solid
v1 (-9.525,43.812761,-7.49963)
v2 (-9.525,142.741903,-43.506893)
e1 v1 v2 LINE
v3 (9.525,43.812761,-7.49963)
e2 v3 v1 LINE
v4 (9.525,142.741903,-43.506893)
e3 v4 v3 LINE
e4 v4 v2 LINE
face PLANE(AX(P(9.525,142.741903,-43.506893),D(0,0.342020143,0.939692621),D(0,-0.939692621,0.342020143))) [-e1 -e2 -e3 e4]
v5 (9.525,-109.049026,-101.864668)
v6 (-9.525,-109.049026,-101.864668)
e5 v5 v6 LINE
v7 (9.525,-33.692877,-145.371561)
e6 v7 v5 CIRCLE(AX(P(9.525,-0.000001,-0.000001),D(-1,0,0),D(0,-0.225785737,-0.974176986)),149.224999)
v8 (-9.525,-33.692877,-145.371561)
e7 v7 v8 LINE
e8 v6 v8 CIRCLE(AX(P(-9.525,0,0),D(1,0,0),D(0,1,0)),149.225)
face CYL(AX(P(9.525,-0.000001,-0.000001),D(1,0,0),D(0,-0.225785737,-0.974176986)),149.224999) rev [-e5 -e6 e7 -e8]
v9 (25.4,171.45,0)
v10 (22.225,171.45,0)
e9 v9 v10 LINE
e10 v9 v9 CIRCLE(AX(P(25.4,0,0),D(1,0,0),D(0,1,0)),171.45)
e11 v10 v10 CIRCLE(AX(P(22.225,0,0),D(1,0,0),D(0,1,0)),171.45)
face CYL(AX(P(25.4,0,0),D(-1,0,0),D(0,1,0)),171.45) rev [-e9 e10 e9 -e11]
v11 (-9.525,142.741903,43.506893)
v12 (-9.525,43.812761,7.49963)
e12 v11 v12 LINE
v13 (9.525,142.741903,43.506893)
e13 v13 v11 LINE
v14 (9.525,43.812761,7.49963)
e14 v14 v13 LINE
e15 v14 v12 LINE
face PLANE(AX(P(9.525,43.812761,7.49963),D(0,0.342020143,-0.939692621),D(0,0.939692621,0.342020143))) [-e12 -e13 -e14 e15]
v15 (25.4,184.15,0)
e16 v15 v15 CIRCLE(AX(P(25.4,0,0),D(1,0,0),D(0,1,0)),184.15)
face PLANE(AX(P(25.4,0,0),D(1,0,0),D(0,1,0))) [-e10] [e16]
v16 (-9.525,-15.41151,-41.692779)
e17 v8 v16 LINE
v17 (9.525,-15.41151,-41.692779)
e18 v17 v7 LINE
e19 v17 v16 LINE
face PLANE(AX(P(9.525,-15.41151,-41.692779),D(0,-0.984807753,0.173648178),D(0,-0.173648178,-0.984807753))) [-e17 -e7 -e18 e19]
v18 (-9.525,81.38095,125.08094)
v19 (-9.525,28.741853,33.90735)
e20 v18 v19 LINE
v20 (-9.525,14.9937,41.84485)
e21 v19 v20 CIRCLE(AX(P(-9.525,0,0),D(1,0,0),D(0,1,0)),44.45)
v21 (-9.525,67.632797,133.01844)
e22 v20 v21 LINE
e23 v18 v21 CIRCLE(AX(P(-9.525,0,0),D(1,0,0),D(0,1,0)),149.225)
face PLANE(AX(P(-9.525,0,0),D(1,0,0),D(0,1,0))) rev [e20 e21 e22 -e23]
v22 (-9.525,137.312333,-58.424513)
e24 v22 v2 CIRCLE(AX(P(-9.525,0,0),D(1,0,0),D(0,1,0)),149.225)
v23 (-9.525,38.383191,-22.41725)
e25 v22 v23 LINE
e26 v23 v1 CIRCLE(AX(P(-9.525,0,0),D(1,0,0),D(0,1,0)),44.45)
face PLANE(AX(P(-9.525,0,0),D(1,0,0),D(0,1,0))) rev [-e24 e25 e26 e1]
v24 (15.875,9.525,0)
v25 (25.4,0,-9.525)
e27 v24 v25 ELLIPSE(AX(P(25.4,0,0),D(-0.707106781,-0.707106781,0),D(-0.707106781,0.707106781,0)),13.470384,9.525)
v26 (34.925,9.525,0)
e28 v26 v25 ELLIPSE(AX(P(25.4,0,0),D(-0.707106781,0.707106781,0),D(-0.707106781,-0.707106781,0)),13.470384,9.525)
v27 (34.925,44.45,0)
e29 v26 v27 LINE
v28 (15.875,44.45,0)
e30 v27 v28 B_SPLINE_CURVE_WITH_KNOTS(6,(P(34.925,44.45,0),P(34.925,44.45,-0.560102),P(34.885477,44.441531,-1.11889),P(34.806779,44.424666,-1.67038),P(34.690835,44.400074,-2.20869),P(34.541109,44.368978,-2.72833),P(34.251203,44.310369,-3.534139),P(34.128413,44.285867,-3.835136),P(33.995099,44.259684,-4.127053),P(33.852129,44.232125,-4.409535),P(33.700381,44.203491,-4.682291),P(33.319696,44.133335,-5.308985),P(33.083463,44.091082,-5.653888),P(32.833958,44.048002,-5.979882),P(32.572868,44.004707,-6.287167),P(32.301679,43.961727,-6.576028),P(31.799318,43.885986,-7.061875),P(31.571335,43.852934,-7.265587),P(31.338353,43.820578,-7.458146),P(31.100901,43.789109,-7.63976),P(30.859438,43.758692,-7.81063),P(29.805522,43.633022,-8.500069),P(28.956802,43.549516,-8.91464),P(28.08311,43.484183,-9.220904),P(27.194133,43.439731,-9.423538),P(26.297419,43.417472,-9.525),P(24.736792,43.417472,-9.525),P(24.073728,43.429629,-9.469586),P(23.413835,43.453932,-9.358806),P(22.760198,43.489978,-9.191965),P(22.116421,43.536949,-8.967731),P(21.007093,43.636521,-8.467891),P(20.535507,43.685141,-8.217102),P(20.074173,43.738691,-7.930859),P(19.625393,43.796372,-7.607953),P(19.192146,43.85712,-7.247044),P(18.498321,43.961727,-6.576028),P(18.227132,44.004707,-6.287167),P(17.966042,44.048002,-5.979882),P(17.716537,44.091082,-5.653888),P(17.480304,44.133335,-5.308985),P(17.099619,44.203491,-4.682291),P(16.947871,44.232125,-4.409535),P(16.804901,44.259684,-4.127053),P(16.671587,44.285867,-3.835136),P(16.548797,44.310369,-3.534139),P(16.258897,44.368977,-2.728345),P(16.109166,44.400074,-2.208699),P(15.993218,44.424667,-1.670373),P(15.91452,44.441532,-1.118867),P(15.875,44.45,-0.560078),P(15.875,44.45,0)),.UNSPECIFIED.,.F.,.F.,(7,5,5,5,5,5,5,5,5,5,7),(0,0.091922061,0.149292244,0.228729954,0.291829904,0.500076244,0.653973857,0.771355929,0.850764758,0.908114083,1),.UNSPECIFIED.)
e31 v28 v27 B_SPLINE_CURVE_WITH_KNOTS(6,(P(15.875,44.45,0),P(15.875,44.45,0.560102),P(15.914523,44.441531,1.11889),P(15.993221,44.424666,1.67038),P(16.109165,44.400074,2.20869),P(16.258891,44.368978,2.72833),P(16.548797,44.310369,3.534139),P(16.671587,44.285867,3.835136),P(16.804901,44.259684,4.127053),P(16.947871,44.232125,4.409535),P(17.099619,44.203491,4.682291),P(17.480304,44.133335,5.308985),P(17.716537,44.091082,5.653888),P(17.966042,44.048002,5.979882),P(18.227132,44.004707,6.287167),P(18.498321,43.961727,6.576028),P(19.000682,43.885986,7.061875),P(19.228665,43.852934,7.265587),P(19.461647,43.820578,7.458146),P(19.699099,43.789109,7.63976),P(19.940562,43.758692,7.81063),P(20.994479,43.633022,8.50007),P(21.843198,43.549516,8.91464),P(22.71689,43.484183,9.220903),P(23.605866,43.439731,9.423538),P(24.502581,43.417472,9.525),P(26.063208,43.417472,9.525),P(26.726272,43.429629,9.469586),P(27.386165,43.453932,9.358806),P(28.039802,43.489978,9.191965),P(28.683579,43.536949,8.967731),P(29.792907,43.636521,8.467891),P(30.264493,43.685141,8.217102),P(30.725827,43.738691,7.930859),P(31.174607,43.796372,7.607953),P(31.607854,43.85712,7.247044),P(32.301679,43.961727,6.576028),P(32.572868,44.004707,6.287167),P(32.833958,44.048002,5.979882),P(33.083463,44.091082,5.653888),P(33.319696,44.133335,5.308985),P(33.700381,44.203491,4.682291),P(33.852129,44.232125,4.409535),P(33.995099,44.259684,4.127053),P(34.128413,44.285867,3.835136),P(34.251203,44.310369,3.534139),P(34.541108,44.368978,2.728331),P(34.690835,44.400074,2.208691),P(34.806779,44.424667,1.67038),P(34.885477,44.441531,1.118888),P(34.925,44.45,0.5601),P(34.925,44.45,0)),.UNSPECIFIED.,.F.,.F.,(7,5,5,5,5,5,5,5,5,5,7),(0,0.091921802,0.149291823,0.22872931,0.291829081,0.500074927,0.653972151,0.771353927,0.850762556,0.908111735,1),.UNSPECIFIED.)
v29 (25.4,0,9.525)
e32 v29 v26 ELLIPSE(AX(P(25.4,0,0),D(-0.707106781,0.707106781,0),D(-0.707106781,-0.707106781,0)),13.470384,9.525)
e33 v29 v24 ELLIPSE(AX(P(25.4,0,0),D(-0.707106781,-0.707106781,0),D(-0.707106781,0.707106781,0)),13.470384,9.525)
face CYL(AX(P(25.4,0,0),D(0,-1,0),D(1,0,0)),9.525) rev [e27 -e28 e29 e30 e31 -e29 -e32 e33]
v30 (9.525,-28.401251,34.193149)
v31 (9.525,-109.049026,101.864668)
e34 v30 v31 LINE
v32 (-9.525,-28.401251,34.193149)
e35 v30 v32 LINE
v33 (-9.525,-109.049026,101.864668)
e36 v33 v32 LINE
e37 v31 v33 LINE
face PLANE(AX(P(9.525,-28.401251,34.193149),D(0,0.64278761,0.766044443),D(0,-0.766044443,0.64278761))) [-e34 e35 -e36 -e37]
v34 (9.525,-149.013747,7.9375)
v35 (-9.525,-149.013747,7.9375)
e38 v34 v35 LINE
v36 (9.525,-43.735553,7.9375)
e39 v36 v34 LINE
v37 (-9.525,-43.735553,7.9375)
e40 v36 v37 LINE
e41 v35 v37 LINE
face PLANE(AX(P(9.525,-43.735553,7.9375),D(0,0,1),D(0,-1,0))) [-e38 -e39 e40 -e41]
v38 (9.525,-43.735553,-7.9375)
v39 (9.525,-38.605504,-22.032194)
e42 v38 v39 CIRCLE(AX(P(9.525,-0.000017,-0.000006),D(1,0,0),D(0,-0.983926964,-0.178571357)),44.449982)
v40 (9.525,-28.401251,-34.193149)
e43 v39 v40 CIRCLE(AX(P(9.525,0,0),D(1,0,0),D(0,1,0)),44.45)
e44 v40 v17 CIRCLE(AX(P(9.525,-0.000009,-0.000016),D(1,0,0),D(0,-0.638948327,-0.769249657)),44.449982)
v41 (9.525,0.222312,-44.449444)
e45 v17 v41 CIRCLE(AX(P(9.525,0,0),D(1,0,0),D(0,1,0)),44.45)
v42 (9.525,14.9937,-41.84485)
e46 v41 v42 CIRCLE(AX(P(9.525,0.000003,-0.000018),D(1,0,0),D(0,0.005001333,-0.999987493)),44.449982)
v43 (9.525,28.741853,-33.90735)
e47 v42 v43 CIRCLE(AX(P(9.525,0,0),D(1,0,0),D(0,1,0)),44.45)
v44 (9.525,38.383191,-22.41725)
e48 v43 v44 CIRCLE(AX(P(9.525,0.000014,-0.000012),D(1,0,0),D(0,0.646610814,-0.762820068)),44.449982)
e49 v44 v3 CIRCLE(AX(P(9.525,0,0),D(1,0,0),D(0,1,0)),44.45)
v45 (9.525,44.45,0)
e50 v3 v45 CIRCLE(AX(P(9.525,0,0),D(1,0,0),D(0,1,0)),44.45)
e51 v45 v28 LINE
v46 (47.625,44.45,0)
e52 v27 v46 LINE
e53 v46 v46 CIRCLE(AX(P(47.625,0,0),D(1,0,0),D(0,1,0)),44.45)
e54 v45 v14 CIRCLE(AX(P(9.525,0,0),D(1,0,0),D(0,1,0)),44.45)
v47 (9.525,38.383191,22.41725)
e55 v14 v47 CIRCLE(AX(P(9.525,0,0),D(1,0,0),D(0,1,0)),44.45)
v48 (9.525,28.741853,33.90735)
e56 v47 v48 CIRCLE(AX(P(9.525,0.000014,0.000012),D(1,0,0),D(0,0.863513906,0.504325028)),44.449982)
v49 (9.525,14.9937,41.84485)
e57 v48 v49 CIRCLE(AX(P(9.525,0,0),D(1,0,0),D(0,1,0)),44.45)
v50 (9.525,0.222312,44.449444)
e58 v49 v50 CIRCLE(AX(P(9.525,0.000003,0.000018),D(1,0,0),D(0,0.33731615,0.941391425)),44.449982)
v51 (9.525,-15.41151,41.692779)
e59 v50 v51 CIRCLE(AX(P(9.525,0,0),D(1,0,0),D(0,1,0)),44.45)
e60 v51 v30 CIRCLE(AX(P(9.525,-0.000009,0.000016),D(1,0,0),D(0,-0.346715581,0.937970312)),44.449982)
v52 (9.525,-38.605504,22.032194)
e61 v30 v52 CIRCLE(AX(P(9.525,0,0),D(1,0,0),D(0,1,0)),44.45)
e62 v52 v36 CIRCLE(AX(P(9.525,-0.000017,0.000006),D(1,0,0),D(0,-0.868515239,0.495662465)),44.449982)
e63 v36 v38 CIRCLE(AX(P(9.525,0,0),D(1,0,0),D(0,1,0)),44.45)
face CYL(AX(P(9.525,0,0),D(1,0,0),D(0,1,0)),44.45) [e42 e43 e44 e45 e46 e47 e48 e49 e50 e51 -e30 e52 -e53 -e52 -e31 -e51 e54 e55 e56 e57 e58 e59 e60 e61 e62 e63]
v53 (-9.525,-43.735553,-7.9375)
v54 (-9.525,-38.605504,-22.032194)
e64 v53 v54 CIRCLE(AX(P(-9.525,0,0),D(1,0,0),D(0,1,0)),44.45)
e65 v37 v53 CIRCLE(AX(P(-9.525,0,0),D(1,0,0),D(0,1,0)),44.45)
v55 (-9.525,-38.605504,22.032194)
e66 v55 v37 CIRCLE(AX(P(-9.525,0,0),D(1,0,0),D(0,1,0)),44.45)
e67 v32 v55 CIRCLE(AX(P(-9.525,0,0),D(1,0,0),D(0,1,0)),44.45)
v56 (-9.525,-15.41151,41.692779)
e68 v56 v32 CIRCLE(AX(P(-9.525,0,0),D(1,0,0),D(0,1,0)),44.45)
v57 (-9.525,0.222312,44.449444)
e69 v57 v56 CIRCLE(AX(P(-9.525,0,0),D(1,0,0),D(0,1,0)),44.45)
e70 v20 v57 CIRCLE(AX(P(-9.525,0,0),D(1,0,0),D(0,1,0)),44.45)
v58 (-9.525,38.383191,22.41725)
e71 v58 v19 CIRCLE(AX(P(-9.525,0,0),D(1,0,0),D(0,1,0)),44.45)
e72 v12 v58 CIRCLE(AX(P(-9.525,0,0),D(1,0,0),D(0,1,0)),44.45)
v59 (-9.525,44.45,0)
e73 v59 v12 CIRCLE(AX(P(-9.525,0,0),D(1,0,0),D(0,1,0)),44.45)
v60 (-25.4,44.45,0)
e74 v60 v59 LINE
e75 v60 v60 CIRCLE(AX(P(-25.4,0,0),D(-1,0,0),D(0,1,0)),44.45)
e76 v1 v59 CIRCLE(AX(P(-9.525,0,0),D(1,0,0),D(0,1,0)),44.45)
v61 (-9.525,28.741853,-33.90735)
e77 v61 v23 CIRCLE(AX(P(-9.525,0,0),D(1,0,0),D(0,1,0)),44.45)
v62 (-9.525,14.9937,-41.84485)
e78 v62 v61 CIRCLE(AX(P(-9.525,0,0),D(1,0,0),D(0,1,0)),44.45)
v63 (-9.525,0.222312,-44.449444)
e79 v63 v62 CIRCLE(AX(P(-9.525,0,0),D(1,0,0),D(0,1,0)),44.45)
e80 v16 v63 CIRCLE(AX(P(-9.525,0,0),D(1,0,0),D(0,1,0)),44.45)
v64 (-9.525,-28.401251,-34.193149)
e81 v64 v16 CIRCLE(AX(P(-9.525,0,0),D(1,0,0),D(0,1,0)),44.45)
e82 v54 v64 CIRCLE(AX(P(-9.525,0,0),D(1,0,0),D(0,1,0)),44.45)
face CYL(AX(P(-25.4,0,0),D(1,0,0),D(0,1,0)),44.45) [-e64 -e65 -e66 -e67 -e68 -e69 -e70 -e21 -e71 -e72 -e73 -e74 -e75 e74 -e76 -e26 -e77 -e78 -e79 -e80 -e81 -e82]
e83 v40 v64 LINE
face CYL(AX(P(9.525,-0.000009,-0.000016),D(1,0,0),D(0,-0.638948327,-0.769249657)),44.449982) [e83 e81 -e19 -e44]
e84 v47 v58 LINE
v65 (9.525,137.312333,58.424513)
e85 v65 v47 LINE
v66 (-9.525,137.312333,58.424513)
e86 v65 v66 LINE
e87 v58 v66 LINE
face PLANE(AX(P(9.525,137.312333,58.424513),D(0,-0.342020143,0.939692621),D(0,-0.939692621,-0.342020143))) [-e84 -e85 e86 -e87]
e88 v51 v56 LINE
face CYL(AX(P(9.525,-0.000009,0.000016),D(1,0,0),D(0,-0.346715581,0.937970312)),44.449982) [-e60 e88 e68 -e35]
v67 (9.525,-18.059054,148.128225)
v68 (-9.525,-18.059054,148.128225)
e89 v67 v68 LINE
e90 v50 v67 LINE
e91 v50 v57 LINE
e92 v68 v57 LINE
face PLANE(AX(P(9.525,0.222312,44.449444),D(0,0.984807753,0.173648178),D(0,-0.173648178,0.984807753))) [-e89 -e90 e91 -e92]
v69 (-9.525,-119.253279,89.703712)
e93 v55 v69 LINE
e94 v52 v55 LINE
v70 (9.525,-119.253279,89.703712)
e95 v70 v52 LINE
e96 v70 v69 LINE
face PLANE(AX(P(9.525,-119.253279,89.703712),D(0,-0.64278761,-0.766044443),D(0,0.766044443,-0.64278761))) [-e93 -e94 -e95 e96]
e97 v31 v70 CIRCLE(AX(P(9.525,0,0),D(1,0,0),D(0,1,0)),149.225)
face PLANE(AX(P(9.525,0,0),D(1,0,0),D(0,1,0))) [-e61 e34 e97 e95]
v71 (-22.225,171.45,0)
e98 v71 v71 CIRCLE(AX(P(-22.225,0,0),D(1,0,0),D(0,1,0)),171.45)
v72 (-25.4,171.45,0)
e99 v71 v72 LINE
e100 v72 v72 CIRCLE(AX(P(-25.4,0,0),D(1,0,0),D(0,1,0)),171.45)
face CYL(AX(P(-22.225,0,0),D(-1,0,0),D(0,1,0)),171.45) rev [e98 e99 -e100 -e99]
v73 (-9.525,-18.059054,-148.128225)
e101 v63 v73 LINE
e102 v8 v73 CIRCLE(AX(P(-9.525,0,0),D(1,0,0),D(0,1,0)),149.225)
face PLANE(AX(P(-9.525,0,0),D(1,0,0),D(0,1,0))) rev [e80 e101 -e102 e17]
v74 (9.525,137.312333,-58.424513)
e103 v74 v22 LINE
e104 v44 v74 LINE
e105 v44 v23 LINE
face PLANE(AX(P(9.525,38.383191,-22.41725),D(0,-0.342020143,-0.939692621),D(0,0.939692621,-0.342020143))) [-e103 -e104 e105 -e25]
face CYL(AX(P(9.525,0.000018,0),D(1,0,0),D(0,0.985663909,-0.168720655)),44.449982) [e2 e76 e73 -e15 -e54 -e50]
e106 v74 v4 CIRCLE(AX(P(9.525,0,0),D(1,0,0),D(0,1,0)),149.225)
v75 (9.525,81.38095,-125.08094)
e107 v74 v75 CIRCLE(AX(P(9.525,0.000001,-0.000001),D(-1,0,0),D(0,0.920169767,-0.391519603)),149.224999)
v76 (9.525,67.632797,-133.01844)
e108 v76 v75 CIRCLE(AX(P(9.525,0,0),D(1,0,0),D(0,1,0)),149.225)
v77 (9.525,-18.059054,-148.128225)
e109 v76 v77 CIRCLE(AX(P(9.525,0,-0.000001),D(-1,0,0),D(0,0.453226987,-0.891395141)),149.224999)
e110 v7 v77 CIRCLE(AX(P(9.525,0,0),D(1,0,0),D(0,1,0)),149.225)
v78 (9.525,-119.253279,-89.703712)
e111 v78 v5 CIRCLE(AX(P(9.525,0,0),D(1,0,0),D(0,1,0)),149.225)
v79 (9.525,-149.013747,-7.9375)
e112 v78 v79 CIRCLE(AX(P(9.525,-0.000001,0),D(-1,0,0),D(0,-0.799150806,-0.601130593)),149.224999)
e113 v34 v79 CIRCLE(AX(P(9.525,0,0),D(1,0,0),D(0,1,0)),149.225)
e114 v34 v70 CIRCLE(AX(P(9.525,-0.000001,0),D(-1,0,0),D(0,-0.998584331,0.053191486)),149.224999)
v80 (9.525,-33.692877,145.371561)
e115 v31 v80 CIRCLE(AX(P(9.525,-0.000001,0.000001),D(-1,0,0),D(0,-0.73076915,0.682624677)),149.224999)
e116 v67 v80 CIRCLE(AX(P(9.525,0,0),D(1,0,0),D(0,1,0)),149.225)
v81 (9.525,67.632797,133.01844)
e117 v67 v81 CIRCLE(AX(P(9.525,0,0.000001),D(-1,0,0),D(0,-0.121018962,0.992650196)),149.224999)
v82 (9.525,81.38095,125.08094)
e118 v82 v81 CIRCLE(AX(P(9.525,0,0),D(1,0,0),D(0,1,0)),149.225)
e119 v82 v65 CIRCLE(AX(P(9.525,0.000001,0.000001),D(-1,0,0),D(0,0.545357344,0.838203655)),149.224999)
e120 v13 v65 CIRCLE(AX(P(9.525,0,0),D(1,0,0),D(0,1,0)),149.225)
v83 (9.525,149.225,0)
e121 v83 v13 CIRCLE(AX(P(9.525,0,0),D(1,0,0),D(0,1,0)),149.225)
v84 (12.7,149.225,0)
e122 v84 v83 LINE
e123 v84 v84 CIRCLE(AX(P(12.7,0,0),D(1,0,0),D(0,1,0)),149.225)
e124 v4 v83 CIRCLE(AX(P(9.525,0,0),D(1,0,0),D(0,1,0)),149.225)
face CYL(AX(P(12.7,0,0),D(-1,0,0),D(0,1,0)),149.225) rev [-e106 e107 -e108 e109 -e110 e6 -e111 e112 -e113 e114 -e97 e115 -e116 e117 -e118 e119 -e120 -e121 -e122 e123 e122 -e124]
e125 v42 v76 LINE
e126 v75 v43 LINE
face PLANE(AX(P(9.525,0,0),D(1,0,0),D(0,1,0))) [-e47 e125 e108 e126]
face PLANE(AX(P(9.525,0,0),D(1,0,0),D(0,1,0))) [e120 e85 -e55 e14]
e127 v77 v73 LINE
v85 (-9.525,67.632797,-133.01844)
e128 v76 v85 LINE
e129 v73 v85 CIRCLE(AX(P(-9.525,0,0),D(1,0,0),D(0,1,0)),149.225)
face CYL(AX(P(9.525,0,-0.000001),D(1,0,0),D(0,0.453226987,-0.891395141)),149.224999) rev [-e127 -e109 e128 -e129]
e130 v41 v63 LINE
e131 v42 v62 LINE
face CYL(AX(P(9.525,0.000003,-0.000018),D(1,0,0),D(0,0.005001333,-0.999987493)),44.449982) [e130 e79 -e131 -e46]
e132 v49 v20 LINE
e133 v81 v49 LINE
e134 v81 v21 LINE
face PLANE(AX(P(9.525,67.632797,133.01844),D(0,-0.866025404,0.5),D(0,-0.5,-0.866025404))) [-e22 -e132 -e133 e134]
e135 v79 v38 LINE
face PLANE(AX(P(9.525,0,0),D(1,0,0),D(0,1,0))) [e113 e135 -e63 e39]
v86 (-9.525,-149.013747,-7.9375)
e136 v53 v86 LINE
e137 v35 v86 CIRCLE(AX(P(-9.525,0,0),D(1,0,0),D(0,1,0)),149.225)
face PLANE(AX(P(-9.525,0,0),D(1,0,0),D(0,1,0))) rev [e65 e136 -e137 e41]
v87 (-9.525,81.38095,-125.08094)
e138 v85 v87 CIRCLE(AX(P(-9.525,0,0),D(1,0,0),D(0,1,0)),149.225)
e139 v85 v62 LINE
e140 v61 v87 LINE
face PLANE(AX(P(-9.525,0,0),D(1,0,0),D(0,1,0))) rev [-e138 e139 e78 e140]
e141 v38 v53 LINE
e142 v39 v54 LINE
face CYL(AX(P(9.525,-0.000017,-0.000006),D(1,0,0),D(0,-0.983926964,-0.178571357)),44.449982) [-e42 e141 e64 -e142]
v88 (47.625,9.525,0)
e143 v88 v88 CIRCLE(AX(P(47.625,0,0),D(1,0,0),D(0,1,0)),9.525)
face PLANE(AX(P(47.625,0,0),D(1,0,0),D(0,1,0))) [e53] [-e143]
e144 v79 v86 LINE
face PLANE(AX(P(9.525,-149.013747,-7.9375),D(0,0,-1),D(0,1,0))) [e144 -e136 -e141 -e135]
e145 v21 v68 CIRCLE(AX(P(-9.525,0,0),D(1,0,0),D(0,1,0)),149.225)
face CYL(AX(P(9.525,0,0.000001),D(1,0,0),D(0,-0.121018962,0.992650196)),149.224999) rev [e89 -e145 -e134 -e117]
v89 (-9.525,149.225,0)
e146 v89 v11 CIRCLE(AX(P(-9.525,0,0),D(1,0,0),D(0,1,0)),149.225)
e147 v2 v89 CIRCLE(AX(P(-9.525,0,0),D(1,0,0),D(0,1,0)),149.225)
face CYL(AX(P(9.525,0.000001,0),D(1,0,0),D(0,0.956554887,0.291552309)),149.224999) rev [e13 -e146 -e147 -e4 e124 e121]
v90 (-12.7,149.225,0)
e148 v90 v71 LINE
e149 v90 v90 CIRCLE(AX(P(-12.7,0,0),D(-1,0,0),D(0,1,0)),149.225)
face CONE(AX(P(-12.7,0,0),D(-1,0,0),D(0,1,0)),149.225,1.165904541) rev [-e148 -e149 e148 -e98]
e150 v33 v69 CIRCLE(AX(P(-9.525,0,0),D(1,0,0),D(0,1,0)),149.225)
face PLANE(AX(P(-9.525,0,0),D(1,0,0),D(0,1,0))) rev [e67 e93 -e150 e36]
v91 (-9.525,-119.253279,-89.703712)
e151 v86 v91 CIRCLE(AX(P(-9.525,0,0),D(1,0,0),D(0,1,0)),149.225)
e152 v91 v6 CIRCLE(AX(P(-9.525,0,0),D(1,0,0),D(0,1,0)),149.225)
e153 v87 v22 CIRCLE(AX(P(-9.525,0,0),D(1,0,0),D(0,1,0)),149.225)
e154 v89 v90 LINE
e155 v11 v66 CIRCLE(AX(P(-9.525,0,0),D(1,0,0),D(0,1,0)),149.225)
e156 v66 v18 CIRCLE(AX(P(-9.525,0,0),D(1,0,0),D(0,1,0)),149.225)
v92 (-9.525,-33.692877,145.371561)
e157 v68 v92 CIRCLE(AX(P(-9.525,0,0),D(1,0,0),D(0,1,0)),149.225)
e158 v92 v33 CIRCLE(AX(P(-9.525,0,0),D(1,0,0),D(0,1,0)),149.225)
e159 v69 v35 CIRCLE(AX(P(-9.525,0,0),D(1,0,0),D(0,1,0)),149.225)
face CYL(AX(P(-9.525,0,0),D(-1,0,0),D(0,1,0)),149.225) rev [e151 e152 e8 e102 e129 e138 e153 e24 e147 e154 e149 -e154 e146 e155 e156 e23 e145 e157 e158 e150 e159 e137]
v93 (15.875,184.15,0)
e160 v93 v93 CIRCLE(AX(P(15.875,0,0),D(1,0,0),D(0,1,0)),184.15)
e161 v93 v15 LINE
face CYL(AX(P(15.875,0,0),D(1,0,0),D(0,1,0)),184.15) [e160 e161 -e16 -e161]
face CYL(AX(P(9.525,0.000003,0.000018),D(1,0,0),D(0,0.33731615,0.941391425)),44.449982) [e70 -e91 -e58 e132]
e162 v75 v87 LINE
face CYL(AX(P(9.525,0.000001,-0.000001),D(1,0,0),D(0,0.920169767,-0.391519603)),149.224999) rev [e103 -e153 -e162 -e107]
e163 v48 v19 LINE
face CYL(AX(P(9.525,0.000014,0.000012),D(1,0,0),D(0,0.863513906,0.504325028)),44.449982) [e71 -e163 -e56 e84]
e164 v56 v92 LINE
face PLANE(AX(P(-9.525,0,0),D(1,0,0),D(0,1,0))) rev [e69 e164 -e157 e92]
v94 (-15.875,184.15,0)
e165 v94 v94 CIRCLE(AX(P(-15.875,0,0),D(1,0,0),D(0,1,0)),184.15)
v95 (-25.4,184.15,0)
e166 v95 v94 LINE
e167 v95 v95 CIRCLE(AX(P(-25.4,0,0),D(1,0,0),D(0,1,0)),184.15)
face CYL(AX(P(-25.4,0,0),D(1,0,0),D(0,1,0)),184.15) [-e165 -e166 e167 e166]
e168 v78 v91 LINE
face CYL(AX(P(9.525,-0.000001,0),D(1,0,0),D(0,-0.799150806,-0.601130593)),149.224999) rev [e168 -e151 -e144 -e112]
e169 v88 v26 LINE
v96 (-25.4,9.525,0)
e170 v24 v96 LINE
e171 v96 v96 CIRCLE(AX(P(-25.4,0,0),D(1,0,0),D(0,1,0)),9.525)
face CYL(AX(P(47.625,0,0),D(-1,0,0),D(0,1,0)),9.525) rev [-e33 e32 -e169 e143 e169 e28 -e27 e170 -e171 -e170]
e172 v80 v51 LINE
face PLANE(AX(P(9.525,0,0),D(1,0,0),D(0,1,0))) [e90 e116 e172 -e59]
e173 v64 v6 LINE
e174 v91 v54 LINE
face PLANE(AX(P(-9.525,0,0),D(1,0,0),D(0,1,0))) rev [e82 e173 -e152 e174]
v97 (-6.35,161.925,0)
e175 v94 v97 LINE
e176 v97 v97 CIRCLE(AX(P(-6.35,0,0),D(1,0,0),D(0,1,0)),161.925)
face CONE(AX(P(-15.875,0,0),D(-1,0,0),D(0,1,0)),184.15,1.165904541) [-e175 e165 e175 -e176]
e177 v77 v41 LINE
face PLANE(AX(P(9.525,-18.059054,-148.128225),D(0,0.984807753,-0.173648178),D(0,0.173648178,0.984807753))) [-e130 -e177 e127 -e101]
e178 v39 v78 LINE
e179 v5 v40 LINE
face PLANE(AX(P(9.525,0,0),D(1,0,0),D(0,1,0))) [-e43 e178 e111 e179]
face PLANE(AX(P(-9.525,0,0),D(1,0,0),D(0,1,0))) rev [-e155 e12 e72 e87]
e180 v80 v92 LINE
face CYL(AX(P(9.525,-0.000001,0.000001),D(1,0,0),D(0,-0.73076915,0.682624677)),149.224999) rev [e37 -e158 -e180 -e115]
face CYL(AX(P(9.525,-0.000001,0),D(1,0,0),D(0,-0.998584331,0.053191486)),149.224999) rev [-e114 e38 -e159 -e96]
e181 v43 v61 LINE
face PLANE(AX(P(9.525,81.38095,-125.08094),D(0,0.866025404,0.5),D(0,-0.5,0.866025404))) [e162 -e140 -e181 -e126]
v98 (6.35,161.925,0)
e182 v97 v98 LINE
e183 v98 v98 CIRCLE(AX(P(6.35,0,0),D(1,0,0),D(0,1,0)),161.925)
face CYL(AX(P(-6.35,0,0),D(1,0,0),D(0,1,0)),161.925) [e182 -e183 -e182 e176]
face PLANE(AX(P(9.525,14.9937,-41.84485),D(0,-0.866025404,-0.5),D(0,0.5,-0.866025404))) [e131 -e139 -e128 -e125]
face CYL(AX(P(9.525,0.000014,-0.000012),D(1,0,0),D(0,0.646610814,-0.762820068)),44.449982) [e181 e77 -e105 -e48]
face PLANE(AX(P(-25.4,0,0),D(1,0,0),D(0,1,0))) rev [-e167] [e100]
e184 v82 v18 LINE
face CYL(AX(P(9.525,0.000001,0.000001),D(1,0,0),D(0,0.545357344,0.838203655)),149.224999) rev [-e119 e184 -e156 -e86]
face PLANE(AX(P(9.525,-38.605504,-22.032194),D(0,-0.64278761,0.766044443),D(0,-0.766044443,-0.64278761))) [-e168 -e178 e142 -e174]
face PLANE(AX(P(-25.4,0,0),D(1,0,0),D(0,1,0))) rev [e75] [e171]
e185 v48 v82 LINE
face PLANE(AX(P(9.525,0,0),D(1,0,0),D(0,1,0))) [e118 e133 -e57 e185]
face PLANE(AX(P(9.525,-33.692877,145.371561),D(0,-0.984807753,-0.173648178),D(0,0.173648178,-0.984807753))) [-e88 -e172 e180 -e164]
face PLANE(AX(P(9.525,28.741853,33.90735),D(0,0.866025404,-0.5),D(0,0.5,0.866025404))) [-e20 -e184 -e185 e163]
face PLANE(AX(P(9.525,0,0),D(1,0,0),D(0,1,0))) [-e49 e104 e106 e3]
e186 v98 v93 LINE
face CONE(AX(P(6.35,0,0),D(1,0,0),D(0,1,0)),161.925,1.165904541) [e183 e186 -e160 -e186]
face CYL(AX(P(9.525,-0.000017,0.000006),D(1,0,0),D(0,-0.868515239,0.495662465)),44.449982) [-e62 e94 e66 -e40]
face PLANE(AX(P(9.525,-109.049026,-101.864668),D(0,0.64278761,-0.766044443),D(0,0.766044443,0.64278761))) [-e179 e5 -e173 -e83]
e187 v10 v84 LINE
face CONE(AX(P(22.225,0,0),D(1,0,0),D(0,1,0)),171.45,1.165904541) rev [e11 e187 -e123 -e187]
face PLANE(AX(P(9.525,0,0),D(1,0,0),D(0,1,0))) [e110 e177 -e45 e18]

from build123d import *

# Parameters (mm, degrees)
CUT_EXTRUDE1_DEPTH = 35.925
CIRPATTERN2_COUNT  = 9
CUT_EXTRUDE2_START = -44.45
SKETCH3_R          = 9.525
CUT_EXTRUDE2_DEPTH = 44.45


with BuildPart() as part:
    # Sketch1 → Revolve2 (revolve)
    with BuildSketch(Plane.XY):
        Polygon((47.625, 9.525), (-25.4, 9.525), (-25.4, 44.45), (-9.525, 44.45), (-9.525, 149.225), (-12.7, 149.225), (-22.225, 171.45), (-25.4, 171.45), (-25.4, 184.15), (-15.875, 184.15), (-6.35, 161.925), (6.35, 161.925), (15.875, 184.15), (25.4, 184.15), (25.4, 171.45), (22.225, 171.45), (12.7, 149.225), (9.525, 149.225), (9.525, 44.45), (47.625, 44.45), align=None)
    revolve(axis=Axis((-229.110116, 0, 0), (1, 0, 0)))

    # Sketch2 → Cut-Extrude1 (cut, through all)
    with BuildSketch(Plane(origin=(9.525, 0, 0), x_dir=(0, 0, -1), z_dir=(1, 0, 0))):
        with BuildLine():
            Line((-7.49963, 43.812761), (-43.506893, 142.741903))
            ThreePointArc((-43.506893, 142.741903), (0, 149.225), (43.506893, 142.741903))
            Line((43.506893, 142.741903), (7.49963, 43.812761))
            ThreePointArc((7.49963, 43.812761), (0, 44.45), (-7.49963, 43.812761))
        make_face()
    cut_extrude1 = extrude(amount=-CUT_EXTRUDE1_DEPTH, mode=Mode.SUBTRACT)

    # CirPattern2: Cut-Extrude1 ×9 about axis
    cirpattern2_axis = Axis((0, 0, 0), (1, 0, 0))
    for i in range(1, CIRPATTERN2_COUNT):
        add(cut_extrude1.rotate(cirpattern2_axis, i * 360 / CIRPATTERN2_COUNT), mode=Mode.SUBTRACT)

    # Sketch3 → Cut-Extrude2 (cut)
    with BuildSketch(Plane(origin=(0, 44.45, 0), x_dir=(1, 0, 0), z_dir=(0, 1, 0)).offset(CUT_EXTRUDE2_START)):
        with Locations((25.4, 0)):
            Circle(SKETCH3_R)
    extrude(amount=CUT_EXTRUDE2_DEPTH, mode=Mode.SUBTRACT)


solid = part.part
